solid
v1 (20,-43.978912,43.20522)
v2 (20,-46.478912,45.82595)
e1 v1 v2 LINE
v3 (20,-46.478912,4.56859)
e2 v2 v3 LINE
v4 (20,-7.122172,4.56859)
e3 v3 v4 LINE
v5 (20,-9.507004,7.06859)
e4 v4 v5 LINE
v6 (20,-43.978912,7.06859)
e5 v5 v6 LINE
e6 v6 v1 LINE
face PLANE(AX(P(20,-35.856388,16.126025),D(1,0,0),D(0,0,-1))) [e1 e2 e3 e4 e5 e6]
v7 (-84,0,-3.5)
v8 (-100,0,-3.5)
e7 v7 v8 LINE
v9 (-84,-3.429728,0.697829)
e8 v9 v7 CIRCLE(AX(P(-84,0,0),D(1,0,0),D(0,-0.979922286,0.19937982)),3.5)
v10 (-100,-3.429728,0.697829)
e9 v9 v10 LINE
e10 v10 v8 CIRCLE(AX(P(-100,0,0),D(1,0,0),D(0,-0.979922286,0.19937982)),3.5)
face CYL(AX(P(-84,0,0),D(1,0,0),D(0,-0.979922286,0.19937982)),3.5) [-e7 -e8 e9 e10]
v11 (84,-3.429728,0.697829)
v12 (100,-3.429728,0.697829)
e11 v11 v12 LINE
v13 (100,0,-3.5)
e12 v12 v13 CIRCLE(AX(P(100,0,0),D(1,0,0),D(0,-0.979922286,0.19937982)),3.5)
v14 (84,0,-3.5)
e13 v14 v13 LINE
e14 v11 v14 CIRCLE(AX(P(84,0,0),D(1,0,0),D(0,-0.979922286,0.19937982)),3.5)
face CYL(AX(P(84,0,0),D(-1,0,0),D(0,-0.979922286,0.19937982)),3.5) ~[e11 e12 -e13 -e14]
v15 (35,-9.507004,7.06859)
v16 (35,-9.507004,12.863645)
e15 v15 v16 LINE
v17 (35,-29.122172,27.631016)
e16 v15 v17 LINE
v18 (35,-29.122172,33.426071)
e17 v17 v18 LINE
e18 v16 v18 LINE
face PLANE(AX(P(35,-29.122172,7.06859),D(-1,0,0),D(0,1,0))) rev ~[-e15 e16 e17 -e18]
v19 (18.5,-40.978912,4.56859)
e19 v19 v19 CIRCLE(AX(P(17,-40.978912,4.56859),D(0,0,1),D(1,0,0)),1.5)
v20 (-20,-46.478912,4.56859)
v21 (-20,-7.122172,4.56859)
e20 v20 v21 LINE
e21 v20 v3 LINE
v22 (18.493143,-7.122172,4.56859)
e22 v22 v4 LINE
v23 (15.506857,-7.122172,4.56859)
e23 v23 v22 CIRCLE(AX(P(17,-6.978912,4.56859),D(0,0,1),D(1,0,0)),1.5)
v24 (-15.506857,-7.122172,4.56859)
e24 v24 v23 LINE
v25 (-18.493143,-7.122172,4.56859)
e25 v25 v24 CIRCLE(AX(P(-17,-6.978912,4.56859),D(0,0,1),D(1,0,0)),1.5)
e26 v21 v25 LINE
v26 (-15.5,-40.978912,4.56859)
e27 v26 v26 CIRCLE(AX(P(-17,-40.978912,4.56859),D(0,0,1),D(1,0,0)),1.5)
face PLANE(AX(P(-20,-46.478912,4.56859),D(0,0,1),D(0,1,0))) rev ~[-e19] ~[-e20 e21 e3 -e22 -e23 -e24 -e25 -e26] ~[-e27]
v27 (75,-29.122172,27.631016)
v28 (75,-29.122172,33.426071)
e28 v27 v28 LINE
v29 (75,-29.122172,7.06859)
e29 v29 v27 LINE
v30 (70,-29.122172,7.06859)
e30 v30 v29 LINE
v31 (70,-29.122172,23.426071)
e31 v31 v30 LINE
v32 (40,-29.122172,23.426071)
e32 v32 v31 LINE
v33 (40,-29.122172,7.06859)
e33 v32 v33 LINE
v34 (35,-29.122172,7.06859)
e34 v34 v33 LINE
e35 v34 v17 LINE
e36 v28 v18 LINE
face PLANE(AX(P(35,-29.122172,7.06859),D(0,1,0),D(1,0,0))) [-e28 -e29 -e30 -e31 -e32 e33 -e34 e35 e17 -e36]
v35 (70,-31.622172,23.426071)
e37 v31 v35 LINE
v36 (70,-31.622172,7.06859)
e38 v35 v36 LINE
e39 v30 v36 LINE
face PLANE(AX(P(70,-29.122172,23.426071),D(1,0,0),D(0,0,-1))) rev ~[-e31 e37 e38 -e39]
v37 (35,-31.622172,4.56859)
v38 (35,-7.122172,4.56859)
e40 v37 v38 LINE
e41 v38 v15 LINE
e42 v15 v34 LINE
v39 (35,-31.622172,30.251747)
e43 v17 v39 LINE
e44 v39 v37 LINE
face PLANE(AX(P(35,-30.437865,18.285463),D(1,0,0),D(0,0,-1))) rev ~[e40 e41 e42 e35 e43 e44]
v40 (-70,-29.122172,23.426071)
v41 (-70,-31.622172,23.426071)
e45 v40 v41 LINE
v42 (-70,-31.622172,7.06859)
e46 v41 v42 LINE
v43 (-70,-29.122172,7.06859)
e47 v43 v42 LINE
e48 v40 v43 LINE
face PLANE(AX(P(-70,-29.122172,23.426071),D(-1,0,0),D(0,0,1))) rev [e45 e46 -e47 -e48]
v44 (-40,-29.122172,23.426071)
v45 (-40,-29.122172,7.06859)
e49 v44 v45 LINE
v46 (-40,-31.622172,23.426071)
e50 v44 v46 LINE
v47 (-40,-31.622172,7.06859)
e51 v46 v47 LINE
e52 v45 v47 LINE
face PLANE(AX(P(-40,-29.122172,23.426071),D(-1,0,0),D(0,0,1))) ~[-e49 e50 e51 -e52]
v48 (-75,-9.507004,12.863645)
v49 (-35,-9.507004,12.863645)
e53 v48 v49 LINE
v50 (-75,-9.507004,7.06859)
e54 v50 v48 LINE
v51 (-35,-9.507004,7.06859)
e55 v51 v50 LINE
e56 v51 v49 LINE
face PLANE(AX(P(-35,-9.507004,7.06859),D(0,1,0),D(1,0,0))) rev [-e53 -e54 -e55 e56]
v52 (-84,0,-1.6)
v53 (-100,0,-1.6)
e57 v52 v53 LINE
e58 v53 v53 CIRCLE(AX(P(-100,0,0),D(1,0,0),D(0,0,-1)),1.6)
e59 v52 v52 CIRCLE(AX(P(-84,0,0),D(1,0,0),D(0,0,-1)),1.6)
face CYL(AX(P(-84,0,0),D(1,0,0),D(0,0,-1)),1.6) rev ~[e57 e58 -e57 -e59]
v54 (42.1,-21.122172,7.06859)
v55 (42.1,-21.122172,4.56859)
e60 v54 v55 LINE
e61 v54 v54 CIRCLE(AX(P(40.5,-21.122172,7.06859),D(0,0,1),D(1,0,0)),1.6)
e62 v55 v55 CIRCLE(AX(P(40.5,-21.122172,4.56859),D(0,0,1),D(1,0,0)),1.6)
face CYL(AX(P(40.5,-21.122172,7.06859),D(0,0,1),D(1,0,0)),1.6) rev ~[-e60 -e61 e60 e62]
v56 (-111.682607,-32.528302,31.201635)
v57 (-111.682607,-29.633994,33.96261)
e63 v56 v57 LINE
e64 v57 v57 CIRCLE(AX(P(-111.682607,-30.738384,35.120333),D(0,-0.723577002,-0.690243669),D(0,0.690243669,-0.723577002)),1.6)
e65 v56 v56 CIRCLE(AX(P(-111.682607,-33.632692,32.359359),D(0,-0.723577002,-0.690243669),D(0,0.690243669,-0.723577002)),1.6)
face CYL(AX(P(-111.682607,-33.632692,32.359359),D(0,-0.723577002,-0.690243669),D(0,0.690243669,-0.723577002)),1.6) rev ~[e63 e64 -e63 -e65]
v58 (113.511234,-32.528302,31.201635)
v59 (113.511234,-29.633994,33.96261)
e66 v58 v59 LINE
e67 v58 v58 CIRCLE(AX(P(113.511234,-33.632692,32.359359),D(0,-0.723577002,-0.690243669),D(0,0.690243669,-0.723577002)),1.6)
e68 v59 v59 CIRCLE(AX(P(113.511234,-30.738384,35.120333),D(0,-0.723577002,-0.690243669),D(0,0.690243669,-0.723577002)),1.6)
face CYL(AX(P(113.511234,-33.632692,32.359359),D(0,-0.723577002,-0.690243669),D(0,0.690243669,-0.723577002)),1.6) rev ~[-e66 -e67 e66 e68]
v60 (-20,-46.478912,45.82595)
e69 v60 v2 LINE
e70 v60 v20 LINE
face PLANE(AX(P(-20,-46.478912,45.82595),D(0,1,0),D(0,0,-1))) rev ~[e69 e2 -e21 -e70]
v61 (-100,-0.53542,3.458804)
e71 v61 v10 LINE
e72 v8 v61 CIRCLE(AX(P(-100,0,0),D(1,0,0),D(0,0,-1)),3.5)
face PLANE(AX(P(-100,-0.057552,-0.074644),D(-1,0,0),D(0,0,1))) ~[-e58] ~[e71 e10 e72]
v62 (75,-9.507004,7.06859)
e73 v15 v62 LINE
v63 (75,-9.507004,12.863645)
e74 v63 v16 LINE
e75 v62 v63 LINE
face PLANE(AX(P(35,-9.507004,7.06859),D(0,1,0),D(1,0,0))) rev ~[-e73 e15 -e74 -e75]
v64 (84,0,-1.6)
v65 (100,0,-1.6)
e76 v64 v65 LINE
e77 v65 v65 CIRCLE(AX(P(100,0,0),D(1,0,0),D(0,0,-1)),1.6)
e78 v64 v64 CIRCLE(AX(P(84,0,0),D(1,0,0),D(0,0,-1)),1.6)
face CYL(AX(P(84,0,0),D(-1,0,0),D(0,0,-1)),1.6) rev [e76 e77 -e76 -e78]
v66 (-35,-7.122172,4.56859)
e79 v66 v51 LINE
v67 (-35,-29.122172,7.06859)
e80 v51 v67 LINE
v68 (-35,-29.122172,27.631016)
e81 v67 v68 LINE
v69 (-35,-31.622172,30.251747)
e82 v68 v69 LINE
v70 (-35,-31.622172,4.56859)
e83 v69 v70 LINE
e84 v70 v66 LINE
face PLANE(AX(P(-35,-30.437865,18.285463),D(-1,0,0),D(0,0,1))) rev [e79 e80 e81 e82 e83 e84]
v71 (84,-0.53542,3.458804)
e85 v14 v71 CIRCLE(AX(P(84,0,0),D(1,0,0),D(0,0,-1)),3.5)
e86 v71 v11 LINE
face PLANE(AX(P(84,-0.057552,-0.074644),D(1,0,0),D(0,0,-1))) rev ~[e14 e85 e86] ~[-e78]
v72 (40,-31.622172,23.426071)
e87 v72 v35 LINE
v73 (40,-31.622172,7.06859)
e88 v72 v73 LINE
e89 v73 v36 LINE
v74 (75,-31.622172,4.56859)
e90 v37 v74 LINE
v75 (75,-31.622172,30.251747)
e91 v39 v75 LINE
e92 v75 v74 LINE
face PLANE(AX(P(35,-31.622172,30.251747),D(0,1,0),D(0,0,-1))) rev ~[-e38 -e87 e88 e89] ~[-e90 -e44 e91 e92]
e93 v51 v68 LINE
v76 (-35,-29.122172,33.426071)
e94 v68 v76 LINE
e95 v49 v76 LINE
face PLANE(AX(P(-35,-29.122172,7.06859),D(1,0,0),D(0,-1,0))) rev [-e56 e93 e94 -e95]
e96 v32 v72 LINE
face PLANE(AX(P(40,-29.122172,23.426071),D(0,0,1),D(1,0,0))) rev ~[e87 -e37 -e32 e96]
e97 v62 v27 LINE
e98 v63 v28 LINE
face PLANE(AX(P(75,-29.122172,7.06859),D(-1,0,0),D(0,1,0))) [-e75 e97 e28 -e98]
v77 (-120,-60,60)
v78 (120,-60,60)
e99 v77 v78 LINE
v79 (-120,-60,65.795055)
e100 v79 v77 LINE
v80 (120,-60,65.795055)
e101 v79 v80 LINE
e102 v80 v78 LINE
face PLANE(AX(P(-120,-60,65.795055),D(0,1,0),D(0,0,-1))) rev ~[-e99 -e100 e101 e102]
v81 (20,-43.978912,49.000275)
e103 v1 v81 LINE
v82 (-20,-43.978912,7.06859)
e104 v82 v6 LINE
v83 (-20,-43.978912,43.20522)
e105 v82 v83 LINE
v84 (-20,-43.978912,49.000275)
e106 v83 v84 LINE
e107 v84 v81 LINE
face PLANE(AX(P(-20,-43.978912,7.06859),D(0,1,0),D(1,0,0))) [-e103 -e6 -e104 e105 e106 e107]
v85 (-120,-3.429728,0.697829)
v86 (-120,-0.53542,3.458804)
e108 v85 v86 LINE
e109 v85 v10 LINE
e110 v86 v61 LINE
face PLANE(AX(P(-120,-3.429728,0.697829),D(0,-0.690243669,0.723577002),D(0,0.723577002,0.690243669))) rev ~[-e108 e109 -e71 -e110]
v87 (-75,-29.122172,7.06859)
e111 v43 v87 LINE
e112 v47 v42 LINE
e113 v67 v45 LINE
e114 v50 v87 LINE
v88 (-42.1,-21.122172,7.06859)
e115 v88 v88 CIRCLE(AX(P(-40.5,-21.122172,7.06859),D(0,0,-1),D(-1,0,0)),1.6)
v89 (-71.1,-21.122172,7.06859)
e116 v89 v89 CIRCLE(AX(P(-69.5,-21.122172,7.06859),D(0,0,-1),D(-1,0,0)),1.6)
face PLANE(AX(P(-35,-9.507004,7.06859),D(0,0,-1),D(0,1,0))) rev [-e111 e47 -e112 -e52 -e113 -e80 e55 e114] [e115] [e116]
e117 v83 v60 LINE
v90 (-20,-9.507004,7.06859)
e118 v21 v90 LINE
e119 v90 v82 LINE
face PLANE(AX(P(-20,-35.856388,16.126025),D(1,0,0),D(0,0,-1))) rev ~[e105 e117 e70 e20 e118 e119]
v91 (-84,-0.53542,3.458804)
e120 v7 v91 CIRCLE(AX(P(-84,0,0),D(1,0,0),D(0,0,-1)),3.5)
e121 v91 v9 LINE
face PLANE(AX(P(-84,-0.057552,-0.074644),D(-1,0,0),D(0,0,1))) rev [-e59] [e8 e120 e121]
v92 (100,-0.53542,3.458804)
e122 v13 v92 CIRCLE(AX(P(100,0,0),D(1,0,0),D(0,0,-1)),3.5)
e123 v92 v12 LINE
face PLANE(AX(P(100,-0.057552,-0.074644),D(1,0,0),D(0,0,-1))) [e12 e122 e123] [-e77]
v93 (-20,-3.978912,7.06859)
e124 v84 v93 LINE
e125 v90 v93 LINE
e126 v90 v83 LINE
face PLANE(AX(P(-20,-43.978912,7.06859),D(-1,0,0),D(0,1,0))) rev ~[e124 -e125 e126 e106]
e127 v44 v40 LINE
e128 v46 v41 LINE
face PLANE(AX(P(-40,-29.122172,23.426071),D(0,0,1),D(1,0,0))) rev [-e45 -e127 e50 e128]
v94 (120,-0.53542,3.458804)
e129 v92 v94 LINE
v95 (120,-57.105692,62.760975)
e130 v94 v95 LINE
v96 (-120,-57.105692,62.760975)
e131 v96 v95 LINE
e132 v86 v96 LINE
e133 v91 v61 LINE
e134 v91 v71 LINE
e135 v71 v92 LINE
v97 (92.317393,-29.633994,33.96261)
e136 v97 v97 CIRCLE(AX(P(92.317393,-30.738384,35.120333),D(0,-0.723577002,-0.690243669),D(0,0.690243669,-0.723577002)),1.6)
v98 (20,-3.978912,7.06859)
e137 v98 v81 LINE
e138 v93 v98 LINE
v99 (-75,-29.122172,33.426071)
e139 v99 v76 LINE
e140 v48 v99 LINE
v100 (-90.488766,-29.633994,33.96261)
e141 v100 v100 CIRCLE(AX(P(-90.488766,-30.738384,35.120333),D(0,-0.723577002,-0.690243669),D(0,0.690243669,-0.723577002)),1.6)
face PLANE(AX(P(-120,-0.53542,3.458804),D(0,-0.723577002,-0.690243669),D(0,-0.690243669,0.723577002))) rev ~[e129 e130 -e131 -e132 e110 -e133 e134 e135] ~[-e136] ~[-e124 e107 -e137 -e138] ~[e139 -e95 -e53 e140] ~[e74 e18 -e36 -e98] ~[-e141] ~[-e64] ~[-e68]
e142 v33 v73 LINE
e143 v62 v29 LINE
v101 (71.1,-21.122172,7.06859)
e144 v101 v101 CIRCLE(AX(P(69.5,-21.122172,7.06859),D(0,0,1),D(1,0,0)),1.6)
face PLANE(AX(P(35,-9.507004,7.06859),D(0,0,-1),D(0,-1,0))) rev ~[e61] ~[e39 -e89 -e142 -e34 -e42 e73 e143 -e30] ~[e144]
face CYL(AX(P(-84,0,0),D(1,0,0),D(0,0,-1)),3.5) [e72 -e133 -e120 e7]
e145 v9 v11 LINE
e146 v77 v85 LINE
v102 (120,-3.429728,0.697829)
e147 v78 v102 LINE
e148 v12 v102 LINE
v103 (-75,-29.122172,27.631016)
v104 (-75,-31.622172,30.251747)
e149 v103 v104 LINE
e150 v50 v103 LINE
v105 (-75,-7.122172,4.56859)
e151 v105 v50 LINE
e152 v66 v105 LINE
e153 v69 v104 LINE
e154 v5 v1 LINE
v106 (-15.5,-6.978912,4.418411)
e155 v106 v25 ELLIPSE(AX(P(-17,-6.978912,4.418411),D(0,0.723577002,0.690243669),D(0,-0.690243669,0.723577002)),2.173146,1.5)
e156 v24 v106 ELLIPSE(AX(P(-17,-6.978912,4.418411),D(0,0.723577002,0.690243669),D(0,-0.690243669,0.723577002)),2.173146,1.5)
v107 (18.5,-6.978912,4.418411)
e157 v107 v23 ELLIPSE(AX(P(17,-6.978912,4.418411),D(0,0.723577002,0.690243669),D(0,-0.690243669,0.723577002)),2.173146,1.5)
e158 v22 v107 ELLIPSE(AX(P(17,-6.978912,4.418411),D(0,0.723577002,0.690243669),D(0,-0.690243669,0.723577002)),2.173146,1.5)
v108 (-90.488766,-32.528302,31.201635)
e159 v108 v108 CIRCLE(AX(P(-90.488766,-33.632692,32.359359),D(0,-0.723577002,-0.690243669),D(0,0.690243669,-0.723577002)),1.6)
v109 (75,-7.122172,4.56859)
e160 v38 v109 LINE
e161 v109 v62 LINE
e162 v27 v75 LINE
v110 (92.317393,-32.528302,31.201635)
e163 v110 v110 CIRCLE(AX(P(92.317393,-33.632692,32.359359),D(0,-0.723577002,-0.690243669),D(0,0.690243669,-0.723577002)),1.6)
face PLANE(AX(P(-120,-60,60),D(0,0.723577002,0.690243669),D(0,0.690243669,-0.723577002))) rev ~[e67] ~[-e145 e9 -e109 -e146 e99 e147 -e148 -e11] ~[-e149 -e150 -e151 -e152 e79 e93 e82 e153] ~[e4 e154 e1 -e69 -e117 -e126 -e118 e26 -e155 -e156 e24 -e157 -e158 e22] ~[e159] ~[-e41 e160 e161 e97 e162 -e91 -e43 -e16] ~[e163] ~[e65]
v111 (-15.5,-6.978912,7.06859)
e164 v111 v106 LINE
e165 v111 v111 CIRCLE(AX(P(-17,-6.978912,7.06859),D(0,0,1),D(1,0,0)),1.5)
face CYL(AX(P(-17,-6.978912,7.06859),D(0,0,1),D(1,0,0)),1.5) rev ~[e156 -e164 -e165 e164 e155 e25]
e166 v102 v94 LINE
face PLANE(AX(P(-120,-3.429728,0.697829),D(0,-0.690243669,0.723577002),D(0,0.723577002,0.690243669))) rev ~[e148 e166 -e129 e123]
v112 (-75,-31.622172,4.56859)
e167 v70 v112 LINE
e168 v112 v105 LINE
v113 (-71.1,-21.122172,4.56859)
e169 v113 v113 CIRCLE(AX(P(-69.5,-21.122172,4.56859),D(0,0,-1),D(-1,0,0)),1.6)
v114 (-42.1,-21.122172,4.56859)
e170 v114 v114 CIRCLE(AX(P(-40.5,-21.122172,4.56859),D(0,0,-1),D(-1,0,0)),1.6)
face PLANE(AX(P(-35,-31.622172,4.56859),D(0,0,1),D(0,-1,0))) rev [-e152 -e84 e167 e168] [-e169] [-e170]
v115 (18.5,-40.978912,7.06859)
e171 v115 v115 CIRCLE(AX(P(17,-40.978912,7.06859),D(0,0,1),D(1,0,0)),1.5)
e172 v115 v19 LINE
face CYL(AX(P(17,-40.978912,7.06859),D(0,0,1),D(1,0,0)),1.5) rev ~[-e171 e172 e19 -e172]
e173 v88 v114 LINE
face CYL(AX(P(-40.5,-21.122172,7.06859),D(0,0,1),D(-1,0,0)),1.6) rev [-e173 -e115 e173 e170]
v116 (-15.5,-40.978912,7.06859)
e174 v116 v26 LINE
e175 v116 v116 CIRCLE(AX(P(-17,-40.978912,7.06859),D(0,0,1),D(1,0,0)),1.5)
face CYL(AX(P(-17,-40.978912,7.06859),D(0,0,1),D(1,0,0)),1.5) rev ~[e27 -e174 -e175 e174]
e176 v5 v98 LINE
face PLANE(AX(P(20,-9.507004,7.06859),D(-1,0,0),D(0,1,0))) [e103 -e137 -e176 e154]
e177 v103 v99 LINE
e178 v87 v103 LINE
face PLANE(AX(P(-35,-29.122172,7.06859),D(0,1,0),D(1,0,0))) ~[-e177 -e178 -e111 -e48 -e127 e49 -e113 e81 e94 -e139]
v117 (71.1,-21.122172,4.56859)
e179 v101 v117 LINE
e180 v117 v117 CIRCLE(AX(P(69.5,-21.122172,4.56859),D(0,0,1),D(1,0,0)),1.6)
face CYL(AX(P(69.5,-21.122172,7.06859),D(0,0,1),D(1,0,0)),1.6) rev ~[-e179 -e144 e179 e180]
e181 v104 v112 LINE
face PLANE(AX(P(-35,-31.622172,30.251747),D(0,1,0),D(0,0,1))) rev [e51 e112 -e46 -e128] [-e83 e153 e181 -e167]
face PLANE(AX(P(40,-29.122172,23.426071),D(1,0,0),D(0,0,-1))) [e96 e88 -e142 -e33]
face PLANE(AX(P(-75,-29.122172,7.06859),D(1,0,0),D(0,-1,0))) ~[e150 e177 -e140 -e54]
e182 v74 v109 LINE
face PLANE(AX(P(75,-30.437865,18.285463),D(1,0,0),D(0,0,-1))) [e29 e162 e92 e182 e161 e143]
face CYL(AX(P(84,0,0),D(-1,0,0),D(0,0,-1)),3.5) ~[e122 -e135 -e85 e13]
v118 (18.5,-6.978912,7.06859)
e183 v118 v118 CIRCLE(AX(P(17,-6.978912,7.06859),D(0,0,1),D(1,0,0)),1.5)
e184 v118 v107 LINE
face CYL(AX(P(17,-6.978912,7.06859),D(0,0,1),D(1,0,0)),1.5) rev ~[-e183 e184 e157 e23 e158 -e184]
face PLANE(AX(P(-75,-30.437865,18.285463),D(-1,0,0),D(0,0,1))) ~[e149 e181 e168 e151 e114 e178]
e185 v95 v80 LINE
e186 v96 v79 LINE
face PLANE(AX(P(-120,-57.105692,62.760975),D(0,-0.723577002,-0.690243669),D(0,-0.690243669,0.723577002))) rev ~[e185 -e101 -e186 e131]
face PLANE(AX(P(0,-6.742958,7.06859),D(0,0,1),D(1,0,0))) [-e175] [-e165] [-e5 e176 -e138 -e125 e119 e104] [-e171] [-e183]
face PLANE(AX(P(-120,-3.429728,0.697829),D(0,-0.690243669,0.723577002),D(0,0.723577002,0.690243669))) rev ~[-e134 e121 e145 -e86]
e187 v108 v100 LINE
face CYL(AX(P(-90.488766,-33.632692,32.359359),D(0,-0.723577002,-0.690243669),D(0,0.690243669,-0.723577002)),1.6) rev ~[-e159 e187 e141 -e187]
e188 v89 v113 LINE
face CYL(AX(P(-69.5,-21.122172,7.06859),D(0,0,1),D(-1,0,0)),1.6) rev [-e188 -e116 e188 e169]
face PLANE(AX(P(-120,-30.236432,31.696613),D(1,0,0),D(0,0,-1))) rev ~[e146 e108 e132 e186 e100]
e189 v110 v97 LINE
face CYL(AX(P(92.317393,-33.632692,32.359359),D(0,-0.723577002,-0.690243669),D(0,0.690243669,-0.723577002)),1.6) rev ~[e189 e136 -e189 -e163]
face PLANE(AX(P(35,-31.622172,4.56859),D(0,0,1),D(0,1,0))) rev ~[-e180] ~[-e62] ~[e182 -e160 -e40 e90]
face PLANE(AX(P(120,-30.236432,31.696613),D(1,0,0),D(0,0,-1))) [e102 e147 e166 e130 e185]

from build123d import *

# Parameters (mm, degrees)
EXTRUDE_1_DEPTH      = 120
EXTRUDE_1_DEPTH_BACK = 120
EXTRUDE_START        = 84
SKETCH_1_5_R         = 1.6
EXTRUDE_2_DEPTH      = 16
EXTRUDE_3_DEPTH      = 20
EXTRUDE_3_DEPTH_BACK = 20
CUT_EXTRUDE_1_REACH  = 148.454
SKETCH_3_W           = 40
SKETCH_3_H           = 34.471908326
SKETCH_3_H_2         = 5.528091674
SKETCH_4_R           = 1.5
CUT_EXTRUDE_2_DEPTH  = 147.454080652
EXTRUDE_START_2      = 35
SKETCH_5_W           = 2.5
SKETCH_5_H           = 2.5
EXTRUDE_4_DEPTH      = 40
CUT_EXTRUDE_3_REACH  = 148.454
SKETCH_6_W           = 40
SKETCH_6_H           = 19.615168576
SKETCH_7_W           = 30
SKETCH_7_H           = 16.35748171
CUT_EXTRUDE_4_DEPTH  = 2.5
SKETCH_8_R           = 1.6
CUT_EXTRUDE_5_DEPTH  = 2.5
SKETCH_9_R           = 1.6
CUT_EXTRUDE_6_DEPTH  = 4


with BuildPart() as part:
    # 草图1 → 凸台-拉伸1 (new, two sides: drawn at the far end of the back side and taken through both)
    with BuildSketch(Plane(origin=(0, 0, 0), x_dir=(0, 0, -1), z_dir=(1, 0, 0)).offset(-EXTRUDE_1_DEPTH_BACK)):
        with BuildLine():
            Line((-3.458804046, -0.535419994), (-62.760974675, -57.105691992))
            Line((-62.760974675, -57.105691992), (-60, -60))
            Line((-60, -60), (-0.697829371, -3.429728002))
            ThreePointArc((-0.697829371, -3.429728002), (-2.532519507, -2.41585284), (-3.458804046, -0.535419994))
        make_face()
        Polygon((-62.760974675, -57.105691992), (-65.795054966, -60), (-60, -60), align=None)
        with BuildLine():
            Line((-0.697829371, -3.429728002), (-3.458804046, -0.535419994))
            ThreePointArc((-3.458804046, -0.535419994), (-2.532519507, -2.41585284), (-0.697829371, -3.429728002))
        make_face()
    extrude(amount=EXTRUDE_1_DEPTH + EXTRUDE_1_DEPTH_BACK)

    # 草图1<5> → 凸台-拉伸2 (add)
    with BuildSketch(Plane(origin=(0, 0, 0), x_dir=(0, 0, -1), z_dir=(1, 0, 0)).offset(EXTRUDE_START)):
        with BuildLine():
            ThreePointArc((3.5, 0), (-0.268501246, 3.489685814), (-3.458804046, -0.535419994))
            Line((-3.458804046, -0.535419994), (-0.697829371, -3.429728002))
            ThreePointArc((-0.697829371, -3.429728002), (2.214452212, -2.710387684), (3.5, 0))
        make_face()
        Circle(SKETCH_1_5_R, mode=Mode.SUBTRACT)
    extrude_2 = extrude(amount=EXTRUDE_2_DEPTH)

    # 镜向1: 凸台-拉伸2 across plane
    add(extrude_2.mirror(Plane(origin=(0, 0, 0), x_dir=(0, 0, 1), z_dir=(1, 0, 0))))

    # 草图2 → 凸台-拉伸3 (add, two sides: drawn at the far end of the back side and taken through both)
    with BuildSketch(Plane(origin=(0, 0, 0), x_dir=(0, 0, -1), z_dir=(1, 0, 0)).offset(-EXTRUDE_3_DEPTH_BACK)):
        Polygon((-4.568589556, -7.12217221), (-7.068589556, -9.507003634), (-7.068589556, -43.97891196), (-43.205219579, -43.97891196), (-45.82594989, -46.47891196), (-4.568589556, -46.47891196), align=None)
    extrude(amount=EXTRUDE_3_DEPTH + EXTRUDE_3_DEPTH_BACK)

    # 切除-拉伸1: up to this face of the body (flat: up to its plane)
    cut_extrude_1_end = Plane(part.part.faces().sort_by_distance((0, -30.267709997, 34.626929506))[0])
    # 草图3 → 切除-拉伸1 (cut, up to the picked face)
    with BuildSketch(Plane.XY.offset(7.068589556), mode=Mode.PRIVATE) as cut_extrude_1_sk1:
        with Locations((0, -26.742957797)):
            Rectangle(SKETCH_3_W, SKETCH_3_H)
    cut_extrude_1_tool1 = split(extrude(cut_extrude_1_sk1.sketch, amount=CUT_EXTRUDE_1_REACH, mode=Mode.PRIVATE), bisect_by=cut_extrude_1_end, keep=Keep.BOTH, mode=Mode.PRIVATE)
    # 草图3 → 切除-拉伸1 (cut, up to the picked face)
    with BuildSketch(Plane.XY.offset(7.068589556), mode=Mode.PRIVATE) as cut_extrude_1_sk2:
        with Locations((0, -6.742957797)):
            Rectangle(SKETCH_3_W, SKETCH_3_H_2)
    cut_extrude_1_tool2 = split(extrude(cut_extrude_1_sk2.sketch, amount=CUT_EXTRUDE_1_REACH, mode=Mode.PRIVATE), bisect_by=cut_extrude_1_end, keep=Keep.BOTH, mode=Mode.PRIVATE)
    add(cut_extrude_1_tool1.solids().sort_by(Axis((0, -26.742958, 7.06859), (0, 0, 1)))[0], mode=Mode.SUBTRACT)
    add(cut_extrude_1_tool2.solids().sort_by(Axis((0, -6.742958, 7.06859), (0, 0, 1)))[0], mode=Mode.SUBTRACT)

    # 草图4 → 切除-拉伸2 (cut, through all)
    with BuildSketch(Plane.XY.offset(7.068589556)):
        with Locations((-17, -6.97891196)):
            Circle(SKETCH_4_R)
        with Locations((17, -6.97891196)):
            Circle(SKETCH_4_R)
        with Locations((17, -40.97891196)):
            Circle(SKETCH_4_R)
        with Locations((-17, -40.97891196)):
            Circle(SKETCH_4_R)
    extrude(amount=-CUT_EXTRUDE_2_DEPTH, mode=Mode.SUBTRACT)

    # 草图5 → 凸台-拉伸4 (add)
    with BuildSketch(Plane(origin=(0, 0, 0), x_dir=(0, 0, -1), z_dir=(1, 0, 0)).offset(EXTRUDE_START_2)):
        Polygon((-27.6310163, -29.12217221), (-30.251746612, -31.62217221), (-7.068589556, -31.62217221), (-7.068589556, -29.12217221), align=None)
        Polygon((-7.068589556, -29.12217221), (-4.568589556, -29.12217221), (-4.568589556, -7.12217221), (-7.068589556, -9.507003634), align=None)
        with Locations((-5.818589556, -30.37217221)):
            Rectangle(SKETCH_5_W, SKETCH_5_H)
    extrude_4 = extrude(amount=EXTRUDE_4_DEPTH)

    # 切除-拉伸3: up to this plane
    cut_extrude_3_end = Plane(origin=(-120, 1.447154004, 1.380487337), z_dir=(0, -0.7235770020149496, -0.6902436686816169))
    # 草图6 → 切除-拉伸3 (cut, up to the surface)
    with BuildSketch(Plane.XY.offset(7.068589556), mode=Mode.PRIVATE) as cut_extrude_3_sk1:
        with Locations((55, -19.314587922)):
            Rectangle(SKETCH_6_W, SKETCH_6_H)
    cut_extrude_3_tool1 = split(extrude(cut_extrude_3_sk1.sketch, amount=CUT_EXTRUDE_3_REACH, mode=Mode.PRIVATE), bisect_by=cut_extrude_3_end, keep=Keep.BOTH, mode=Mode.PRIVATE)
    cut_extrude_3 = cut_extrude_3_tool1.solids().sort_by_distance((55, -19.314588, 7.06859))[0]
    add(cut_extrude_3, mode=Mode.SUBTRACT)

    # 草图7 → 切除-拉伸4 (cut)
    with BuildSketch(Plane(origin=(0, -29.12217221, 0), x_dir=(1, 0, 0), z_dir=(0, 1, 0))):
        with Locations((55, -15.247330411)):
            Rectangle(SKETCH_7_W, SKETCH_7_H)
    cut_extrude_4 = extrude(amount=-CUT_EXTRUDE_4_DEPTH, mode=Mode.SUBTRACT)

    # 草图8 → 切除-拉伸5 (cut)
    with BuildSketch(Plane.XY.offset(7.068589556)):
        with Locations((40.5, -21.12217221)):
            Circle(SKETCH_8_R)
        with Locations((69.5, -21.12217221)):
            Circle(SKETCH_8_R)
    cut_extrude_5 = extrude(amount=-CUT_EXTRUDE_5_DEPTH, mode=Mode.SUBTRACT)

    # 镜向2: 凸台-拉伸4 across plane
    add(extrude_4.mirror(Plane(origin=(0, 0, 0), x_dir=(0, 0, 1), z_dir=(1, 0, 0))))

    # 镜向3: 切除-拉伸4 across plane
    add(cut_extrude_4.mirror(Plane(origin=(0, 0, 0), x_dir=(0, 0, 1), z_dir=(1, 0, 0))), mode=Mode.SUBTRACT)

    # 镜向4: 切除-拉伸5 across plane
    add(cut_extrude_5.mirror(Plane(origin=(0, 0, 0), x_dir=(0, 0, 1), z_dir=(1, 0, 0))), mode=Mode.SUBTRACT)

    # 镜向5: 切除-拉伸3 across plane
    add(cut_extrude_3.mirror(Plane(origin=(0, 0, 0), x_dir=(0, 0, 1), z_dir=(1, 0, 0))), mode=Mode.SUBTRACT)

    # 草图9 → 切除-拉伸6 (cut)
    with BuildSketch(Plane(origin=(0, -1.447154004, -1.380487337), x_dir=(1, 0, 0), z_dir=(0, -0.7235770020149502, -0.6902436686816162))):
        with Locations(Location((113.511233503, 46.629240242, 0), (0, 0, 270))):
            Circle(SKETCH_9_R)
        with Locations(Location((92.317392528, 46.629240242, 0), (0, 0, 270))):
            Circle(SKETCH_9_R)
        with Locations(Location((-90.488766497, 46.629240242, 0), (0, 0, 270))):
            Circle(SKETCH_9_R)
        with Locations(Location((-111.682607472, 46.629240242, 0), (0, 0, 270))):
            Circle(SKETCH_9_R)
    extrude(amount=-CUT_EXTRUDE_6_DEPTH, mode=Mode.SUBTRACT)


solid = part.part
